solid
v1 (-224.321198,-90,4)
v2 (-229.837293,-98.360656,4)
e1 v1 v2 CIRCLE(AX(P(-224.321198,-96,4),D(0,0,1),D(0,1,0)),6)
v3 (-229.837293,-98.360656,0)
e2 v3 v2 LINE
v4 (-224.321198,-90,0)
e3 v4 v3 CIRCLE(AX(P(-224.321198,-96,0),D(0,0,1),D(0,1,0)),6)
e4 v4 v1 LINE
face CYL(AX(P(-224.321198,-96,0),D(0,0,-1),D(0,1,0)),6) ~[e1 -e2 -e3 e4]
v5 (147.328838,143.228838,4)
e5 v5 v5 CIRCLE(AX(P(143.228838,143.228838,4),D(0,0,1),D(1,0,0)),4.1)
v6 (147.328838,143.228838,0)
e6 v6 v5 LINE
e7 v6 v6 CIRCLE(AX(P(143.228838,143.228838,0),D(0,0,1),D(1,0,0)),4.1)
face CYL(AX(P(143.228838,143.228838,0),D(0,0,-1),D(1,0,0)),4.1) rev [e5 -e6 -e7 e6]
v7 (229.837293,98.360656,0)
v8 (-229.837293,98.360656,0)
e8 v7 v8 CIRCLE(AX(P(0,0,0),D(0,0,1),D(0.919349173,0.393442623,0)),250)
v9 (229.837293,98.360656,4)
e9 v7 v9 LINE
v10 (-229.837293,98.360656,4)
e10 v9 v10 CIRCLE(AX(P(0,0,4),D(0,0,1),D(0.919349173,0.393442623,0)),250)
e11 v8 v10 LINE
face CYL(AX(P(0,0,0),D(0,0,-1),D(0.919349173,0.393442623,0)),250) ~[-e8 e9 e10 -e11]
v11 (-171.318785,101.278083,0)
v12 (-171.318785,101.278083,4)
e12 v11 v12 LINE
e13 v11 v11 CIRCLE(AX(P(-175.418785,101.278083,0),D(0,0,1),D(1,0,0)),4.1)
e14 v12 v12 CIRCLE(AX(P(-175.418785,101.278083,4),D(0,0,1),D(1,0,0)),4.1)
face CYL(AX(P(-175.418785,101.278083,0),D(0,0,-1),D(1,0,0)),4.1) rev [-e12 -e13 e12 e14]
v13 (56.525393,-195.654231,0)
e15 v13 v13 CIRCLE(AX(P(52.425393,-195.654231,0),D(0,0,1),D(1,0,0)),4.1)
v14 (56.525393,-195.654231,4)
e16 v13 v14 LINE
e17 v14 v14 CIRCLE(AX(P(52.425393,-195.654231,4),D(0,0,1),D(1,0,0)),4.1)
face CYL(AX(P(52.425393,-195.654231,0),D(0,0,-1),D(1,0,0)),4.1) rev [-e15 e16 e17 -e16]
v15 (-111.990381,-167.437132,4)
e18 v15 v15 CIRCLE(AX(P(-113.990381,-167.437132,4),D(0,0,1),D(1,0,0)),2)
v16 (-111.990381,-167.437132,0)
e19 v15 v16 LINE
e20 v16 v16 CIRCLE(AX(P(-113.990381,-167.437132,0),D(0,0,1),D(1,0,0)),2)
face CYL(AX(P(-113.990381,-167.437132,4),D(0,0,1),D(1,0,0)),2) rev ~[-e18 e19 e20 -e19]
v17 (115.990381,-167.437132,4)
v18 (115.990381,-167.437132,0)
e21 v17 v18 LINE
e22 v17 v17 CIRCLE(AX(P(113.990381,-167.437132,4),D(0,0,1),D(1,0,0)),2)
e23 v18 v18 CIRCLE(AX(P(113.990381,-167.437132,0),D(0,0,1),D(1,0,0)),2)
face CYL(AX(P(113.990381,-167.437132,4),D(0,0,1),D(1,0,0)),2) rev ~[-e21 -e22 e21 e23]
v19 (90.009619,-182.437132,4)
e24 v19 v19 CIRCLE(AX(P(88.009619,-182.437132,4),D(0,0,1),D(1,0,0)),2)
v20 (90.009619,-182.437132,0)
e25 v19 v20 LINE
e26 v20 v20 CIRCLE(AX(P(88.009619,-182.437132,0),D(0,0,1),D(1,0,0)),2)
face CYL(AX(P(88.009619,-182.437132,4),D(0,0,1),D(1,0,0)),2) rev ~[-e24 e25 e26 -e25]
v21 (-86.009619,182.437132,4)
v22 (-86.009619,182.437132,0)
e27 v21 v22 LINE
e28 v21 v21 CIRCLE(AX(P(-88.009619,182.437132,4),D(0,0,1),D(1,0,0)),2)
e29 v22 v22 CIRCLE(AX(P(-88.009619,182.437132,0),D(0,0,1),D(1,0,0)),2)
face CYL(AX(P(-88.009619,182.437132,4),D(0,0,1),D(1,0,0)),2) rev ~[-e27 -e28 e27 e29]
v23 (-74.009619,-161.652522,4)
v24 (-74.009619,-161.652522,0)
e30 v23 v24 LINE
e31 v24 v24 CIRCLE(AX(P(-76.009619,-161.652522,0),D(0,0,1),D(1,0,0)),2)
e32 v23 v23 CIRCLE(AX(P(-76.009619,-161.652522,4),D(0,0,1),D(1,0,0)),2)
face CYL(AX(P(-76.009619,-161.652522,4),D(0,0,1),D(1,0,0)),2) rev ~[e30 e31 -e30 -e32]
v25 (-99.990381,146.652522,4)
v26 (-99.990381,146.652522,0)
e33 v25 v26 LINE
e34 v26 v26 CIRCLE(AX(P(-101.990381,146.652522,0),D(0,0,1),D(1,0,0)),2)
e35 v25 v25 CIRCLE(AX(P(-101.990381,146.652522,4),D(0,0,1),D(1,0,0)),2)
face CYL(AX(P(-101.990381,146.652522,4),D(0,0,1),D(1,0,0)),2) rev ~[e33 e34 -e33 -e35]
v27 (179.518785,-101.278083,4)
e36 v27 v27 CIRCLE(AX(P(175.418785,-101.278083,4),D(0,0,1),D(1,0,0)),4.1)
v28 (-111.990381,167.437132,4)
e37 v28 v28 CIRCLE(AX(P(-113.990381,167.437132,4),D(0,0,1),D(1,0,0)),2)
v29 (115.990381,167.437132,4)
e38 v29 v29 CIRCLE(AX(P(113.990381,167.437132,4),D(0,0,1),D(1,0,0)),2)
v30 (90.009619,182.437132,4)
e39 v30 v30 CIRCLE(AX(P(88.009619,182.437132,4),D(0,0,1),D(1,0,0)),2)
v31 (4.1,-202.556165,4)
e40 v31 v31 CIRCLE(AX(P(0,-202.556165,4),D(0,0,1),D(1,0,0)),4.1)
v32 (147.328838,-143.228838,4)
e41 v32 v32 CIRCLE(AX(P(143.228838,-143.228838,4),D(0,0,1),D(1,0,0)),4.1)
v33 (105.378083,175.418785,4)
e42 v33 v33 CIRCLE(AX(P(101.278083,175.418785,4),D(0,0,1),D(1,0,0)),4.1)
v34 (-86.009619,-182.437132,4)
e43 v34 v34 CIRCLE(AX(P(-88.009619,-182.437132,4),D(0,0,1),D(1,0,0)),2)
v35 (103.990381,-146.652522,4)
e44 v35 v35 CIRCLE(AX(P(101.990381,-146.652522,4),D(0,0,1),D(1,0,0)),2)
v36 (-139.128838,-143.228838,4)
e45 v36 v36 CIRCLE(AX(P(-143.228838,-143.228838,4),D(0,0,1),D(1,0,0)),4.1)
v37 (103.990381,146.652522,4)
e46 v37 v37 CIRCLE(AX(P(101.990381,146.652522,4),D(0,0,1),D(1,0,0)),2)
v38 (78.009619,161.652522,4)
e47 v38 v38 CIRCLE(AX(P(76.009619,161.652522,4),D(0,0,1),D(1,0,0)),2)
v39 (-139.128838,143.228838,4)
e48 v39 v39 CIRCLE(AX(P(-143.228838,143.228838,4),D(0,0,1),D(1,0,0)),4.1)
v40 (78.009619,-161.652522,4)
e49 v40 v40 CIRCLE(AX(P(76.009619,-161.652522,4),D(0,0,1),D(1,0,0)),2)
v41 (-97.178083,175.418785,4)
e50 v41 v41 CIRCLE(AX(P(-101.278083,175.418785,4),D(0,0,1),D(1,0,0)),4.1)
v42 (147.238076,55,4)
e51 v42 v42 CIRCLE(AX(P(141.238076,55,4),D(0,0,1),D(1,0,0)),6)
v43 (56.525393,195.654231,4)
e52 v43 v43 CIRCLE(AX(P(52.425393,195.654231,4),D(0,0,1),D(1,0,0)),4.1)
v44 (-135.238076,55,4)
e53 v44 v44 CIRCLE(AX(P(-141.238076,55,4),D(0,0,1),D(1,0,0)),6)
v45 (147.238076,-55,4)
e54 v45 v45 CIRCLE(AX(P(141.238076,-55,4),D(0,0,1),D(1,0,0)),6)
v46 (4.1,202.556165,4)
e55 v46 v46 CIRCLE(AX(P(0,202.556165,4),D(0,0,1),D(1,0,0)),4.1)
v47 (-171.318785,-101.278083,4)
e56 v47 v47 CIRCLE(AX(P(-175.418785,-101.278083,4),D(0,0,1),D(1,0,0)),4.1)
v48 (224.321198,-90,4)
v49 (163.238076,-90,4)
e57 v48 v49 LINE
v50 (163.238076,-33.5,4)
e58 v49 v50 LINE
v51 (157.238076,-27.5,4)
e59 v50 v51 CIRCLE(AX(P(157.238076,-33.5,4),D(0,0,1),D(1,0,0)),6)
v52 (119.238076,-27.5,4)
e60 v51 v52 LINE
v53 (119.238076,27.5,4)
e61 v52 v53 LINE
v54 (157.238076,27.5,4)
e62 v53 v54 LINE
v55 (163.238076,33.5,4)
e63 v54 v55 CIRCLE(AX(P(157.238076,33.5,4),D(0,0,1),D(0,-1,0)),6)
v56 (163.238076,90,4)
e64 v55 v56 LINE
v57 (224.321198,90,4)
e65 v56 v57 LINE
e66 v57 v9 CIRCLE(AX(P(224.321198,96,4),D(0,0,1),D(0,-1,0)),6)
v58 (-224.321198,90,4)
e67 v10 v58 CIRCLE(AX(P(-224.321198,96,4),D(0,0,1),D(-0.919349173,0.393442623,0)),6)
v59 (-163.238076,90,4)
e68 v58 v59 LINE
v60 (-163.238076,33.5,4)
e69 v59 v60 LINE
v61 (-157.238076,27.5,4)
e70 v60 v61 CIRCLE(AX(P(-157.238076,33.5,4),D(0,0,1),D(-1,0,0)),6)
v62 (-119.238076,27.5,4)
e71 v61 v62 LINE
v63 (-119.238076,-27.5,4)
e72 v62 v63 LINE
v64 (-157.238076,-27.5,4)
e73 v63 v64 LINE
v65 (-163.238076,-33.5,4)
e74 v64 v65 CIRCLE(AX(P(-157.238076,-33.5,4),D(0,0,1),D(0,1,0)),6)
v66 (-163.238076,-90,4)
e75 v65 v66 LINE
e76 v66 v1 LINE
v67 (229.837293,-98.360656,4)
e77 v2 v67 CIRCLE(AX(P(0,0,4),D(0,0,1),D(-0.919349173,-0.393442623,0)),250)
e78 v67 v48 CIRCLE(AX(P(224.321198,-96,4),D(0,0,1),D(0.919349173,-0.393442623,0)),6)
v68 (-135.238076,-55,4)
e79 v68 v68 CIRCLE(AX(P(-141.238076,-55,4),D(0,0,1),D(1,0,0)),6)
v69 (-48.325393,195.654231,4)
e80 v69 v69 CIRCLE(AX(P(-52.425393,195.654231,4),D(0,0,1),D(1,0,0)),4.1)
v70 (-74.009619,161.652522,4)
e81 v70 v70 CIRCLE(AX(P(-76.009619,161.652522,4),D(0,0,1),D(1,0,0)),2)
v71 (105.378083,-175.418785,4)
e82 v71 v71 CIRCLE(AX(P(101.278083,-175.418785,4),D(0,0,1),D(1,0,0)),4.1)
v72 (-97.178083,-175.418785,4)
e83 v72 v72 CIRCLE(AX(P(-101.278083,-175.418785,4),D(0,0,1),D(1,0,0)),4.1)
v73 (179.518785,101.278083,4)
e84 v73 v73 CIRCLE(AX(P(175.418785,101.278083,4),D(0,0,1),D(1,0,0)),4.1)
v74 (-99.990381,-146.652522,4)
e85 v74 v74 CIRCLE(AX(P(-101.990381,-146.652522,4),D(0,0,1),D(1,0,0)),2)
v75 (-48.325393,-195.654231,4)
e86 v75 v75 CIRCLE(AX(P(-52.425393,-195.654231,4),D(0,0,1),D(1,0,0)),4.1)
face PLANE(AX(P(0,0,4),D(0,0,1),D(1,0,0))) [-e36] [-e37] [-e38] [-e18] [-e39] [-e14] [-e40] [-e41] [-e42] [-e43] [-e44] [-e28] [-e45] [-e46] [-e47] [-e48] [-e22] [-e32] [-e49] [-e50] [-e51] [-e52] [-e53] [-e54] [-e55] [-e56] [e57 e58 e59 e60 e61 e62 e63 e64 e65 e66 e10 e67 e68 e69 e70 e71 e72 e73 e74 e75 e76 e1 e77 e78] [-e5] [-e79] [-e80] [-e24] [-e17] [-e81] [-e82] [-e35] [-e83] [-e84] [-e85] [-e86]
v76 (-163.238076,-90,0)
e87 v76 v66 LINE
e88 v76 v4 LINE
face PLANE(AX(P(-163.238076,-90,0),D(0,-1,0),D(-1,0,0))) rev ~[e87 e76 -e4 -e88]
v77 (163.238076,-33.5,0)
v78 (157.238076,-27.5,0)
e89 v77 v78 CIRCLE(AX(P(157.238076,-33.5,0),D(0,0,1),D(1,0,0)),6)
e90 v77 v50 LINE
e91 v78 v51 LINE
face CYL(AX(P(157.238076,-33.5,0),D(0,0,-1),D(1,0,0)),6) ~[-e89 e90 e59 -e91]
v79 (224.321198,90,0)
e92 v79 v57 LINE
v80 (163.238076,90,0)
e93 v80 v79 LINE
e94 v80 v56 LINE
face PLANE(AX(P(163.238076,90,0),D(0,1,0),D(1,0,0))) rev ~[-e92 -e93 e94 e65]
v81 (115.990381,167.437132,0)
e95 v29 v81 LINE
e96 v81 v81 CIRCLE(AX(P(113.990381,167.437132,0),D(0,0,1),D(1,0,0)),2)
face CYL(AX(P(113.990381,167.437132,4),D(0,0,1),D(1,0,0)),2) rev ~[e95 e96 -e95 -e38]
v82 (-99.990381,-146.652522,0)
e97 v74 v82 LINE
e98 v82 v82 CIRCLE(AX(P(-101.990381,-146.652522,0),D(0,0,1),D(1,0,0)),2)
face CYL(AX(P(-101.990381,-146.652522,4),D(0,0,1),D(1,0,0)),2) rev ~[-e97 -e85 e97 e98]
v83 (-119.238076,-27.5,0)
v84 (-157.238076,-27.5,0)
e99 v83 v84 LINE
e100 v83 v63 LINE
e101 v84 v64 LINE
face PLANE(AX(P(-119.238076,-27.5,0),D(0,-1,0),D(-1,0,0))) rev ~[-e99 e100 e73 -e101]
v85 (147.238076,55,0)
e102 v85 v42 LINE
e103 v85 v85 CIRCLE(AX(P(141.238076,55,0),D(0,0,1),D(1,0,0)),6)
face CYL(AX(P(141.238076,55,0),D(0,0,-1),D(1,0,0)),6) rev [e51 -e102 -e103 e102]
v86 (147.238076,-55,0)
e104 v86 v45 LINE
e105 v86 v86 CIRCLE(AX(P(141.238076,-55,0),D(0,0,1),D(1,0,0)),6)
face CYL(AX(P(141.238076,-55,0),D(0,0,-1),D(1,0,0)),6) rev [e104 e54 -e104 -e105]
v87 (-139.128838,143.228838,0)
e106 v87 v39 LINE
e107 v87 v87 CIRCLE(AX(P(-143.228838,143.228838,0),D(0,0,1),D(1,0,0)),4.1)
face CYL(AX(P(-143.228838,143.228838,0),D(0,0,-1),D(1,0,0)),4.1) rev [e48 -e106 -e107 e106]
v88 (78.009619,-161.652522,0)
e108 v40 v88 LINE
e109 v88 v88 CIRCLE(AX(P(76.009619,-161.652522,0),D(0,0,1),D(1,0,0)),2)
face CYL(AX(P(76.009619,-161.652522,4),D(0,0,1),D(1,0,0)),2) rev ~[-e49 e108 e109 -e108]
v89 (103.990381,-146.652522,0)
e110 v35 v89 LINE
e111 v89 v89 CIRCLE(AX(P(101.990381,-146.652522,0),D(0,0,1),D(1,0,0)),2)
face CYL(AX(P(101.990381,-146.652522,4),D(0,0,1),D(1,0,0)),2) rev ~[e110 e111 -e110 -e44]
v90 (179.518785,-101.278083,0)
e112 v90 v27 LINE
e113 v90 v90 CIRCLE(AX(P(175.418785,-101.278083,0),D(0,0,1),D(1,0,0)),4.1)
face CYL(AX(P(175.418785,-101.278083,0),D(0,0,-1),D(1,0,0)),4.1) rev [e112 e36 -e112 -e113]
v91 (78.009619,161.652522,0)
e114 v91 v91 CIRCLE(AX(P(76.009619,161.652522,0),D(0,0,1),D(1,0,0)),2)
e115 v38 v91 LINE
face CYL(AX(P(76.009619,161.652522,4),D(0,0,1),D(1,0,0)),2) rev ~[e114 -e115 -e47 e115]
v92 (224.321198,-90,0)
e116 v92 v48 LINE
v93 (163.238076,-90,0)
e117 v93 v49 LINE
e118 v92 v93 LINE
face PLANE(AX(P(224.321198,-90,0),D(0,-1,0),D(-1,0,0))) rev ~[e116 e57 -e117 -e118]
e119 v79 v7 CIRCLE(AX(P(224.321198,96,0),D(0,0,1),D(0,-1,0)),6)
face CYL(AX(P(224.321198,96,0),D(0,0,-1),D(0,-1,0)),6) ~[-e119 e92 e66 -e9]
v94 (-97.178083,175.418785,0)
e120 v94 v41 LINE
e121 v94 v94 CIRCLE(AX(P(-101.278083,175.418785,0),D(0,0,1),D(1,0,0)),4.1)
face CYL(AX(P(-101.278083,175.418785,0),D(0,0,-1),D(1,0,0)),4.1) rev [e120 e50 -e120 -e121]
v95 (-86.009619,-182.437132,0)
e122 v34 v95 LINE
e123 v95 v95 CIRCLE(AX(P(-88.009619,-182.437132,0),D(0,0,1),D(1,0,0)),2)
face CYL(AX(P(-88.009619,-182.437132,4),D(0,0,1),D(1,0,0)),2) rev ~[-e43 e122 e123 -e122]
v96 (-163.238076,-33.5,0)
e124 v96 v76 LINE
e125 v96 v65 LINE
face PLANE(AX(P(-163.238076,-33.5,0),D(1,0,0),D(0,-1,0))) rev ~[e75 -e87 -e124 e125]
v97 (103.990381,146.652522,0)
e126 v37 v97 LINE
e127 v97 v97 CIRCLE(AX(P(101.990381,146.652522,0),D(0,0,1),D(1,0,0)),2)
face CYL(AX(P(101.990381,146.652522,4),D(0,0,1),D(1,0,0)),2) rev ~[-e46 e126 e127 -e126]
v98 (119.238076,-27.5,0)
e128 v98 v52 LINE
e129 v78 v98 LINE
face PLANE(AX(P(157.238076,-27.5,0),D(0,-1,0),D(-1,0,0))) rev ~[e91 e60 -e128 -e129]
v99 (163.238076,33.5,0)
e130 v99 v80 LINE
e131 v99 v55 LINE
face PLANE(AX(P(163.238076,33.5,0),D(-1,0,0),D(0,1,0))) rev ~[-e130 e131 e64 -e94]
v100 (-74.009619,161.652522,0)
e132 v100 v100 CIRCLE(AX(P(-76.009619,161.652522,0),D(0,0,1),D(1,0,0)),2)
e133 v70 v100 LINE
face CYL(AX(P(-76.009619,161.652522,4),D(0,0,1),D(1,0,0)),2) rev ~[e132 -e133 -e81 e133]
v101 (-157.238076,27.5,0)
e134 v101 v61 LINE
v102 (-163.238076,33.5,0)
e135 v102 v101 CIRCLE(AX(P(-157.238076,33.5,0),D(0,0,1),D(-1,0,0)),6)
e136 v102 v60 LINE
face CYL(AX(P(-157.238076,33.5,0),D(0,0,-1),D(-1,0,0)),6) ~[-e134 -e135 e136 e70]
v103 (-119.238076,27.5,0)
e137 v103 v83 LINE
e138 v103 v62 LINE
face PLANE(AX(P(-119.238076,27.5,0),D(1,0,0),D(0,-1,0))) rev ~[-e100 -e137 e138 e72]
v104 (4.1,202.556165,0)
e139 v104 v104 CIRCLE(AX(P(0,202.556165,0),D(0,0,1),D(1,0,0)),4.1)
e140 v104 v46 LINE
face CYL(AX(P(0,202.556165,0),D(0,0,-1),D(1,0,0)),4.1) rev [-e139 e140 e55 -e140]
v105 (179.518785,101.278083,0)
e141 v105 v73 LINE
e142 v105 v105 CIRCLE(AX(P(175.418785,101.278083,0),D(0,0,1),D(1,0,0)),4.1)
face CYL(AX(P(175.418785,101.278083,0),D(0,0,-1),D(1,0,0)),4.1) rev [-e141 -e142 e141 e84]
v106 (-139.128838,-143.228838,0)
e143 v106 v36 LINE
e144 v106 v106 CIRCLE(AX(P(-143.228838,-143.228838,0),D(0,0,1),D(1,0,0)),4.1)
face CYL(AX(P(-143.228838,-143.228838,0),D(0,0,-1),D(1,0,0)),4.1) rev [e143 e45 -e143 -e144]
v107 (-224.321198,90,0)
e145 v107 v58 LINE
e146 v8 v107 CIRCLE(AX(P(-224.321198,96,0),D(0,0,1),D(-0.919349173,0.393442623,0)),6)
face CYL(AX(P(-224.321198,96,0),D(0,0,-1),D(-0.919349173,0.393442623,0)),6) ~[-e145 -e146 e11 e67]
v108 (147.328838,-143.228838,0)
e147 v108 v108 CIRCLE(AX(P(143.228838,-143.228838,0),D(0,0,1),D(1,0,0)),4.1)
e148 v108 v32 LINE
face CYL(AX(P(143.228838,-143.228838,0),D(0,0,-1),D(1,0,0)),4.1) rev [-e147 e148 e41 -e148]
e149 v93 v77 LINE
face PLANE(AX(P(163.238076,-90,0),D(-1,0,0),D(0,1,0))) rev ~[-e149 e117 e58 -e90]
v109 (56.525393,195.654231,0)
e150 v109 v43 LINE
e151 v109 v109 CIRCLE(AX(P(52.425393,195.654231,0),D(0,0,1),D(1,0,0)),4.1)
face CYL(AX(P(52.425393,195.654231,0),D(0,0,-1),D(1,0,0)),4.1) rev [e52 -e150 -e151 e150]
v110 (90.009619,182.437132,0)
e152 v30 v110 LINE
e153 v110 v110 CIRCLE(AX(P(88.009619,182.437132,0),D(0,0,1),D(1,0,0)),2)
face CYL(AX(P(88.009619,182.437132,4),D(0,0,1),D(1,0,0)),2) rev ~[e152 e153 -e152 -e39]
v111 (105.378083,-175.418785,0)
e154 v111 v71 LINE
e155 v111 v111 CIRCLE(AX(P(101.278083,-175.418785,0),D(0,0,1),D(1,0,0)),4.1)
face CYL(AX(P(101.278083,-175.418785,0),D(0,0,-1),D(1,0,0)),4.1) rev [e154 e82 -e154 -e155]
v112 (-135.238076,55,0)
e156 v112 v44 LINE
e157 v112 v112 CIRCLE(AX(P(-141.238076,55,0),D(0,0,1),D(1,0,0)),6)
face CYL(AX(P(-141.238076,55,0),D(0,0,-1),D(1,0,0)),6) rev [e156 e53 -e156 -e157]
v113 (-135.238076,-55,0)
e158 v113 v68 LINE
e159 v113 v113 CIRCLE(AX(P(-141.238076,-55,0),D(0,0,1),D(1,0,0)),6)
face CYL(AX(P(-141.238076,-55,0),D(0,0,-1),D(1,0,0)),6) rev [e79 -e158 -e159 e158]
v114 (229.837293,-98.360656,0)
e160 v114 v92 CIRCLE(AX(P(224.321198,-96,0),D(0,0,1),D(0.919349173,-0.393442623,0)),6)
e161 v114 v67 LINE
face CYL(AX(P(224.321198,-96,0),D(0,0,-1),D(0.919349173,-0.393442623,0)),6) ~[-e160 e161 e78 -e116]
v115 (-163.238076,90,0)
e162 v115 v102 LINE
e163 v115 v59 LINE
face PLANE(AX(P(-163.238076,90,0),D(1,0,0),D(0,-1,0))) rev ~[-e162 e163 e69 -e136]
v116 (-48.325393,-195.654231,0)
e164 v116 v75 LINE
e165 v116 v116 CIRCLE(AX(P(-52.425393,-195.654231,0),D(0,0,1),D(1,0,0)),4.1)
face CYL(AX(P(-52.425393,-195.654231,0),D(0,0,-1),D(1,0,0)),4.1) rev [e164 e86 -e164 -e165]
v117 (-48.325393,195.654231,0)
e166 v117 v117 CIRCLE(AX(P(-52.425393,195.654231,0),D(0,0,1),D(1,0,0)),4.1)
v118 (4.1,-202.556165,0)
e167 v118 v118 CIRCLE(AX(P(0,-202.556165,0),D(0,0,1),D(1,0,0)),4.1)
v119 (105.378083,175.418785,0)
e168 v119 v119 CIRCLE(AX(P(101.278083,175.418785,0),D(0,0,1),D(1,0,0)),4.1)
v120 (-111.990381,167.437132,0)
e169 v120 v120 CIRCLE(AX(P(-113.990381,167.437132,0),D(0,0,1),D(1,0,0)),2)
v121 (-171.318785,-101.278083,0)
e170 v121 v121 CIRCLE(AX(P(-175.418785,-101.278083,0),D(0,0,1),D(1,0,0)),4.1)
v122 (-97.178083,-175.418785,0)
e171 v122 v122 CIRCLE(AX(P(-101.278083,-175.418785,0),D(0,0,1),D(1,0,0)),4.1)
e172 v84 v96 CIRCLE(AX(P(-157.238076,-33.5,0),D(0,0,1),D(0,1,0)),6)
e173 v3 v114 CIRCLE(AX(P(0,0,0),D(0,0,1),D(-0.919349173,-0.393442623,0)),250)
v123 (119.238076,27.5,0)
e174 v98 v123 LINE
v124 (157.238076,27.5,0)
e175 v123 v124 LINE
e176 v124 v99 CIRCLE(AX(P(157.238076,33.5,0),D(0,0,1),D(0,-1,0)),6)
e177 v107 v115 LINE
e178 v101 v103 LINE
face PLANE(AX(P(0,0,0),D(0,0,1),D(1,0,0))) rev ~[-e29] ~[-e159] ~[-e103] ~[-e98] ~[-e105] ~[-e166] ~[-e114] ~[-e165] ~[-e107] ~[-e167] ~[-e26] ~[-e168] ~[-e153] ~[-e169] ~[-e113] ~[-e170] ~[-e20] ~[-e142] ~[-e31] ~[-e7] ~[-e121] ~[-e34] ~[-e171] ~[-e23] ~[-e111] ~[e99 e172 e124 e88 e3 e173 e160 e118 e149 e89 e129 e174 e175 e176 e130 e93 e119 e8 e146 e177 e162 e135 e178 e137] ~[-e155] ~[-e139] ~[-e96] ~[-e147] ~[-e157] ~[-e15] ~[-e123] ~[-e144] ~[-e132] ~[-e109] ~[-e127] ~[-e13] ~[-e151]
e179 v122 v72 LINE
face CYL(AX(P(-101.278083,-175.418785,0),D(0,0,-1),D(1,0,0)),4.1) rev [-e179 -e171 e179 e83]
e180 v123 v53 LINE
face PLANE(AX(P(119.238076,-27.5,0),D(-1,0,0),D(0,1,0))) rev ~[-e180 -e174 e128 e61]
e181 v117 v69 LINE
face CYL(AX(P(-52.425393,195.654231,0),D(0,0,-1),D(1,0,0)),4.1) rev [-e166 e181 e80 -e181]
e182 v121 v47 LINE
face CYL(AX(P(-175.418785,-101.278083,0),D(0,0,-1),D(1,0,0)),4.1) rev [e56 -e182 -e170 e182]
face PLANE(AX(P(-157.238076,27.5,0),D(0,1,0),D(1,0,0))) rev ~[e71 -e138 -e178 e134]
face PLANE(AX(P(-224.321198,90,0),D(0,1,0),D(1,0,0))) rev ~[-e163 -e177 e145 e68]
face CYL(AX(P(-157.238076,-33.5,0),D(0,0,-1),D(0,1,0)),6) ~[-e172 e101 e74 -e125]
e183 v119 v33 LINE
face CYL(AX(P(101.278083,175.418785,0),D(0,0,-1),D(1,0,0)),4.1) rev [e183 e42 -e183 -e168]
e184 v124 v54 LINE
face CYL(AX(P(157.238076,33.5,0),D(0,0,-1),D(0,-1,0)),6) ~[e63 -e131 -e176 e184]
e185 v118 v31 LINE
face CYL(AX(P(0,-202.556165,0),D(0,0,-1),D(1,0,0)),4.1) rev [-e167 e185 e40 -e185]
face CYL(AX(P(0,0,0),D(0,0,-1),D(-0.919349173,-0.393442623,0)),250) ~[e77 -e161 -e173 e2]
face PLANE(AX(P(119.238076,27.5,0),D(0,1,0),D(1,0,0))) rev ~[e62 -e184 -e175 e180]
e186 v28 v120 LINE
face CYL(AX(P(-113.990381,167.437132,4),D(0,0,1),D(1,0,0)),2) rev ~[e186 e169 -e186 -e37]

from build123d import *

# Parameters (mm, degrees)
SKETCH1_R           = 6
SKETCH1_R_2         = 4.1
BOSS_EXTRUDE1_DEPTH = 4
SKETCH5_R           = 2
CUT_EXTRUDE3_DEPTH  = 10


with BuildPart() as part:
    # Sketch1 → Boss-Extrude1 (new body)
    with BuildSketch(Plane.XY):
        with BuildLine():
            Line((-163.238075794, -33.5), (-163.238075794, -90))
            Line((-163.238075794, -90), (-224.321198285, -90))
            ThreePointArc((-224.321198285, -90), (-229.329388299, -92.695755338), (-229.837293325, -98.360655738))
            ThreePointArc((-229.837293325, -98.360655738), (0, -250), (229.837293325, -98.360655738))
            ThreePointArc((229.837293325, -98.360655738), (229.329388299, -92.695755338), (224.321198285, -90))
            Line((224.321198285, -90), (163.238075794, -90))
            Line((163.238075794, -90), (163.238075794, -33.5))
            ThreePointArc((163.238075794, -33.5), (161.480716481, -29.257359313), (157.238075794, -27.5))
            Line((157.238075794, -27.5), (119.238075794, -27.5))
            Line((119.238075794, -27.5), (119.238075794, 27.5))
            Line((119.238075794, 27.5), (157.238075794, 27.5))
            ThreePointArc((157.238075794, 27.5), (161.480716481, 29.257359313), (163.238075794, 33.5))
            Line((163.238075794, 33.5), (163.238075794, 90))
            Line((163.238075794, 90), (224.321198285, 90))
            ThreePointArc((224.321198285, 90), (229.329388299, 92.695755338), (229.837293325, 98.360655738))
            ThreePointArc((229.837293325, 98.360655738), (0, 250), (-229.837293325, 98.360655738))
            ThreePointArc((-229.837293325, 98.360655738), (-229.329388299, 92.695755338), (-224.321198285, 90))
            Line((-224.321198285, 90), (-163.238075794, 90))
            Line((-163.238075794, 90), (-163.238075794, 33.5))
            ThreePointArc((-163.238075794, 33.5), (-161.480716481, 29.257359313), (-157.238075794, 27.5))
            Line((-157.238075794, 27.5), (-119.238075794, 27.5))
            Line((-119.238075794, 27.5), (-119.238075794, -27.5))
            Line((-119.238075794, -27.5), (-157.238075794, -27.5))
            ThreePointArc((-157.238075794, -27.5), (-161.480716481, -29.257359313), (-163.238075794, -33.5))
        make_face()
        with Locations((-141.238075794, 55)):
            Circle(SKETCH1_R, mode=Mode.SUBTRACT)
        with Locations((-141.238075794, -55)):
            Circle(SKETCH1_R, mode=Mode.SUBTRACT)
        with Locations((141.238075794, -55)):
            Circle(SKETCH1_R, mode=Mode.SUBTRACT)
        with Locations((141.238075794, 55)):
            Circle(SKETCH1_R, mode=Mode.SUBTRACT)
        with Locations((0, -202.556165051)):
            Circle(SKETCH1_R_2, mode=Mode.SUBTRACT)
        with Locations((-52.425393218, -195.654231096)):
            Circle(SKETCH1_R_2, mode=Mode.SUBTRACT)
        with Locations((-101.278082525, -175.418784627)):
            Circle(SKETCH1_R_2, mode=Mode.SUBTRACT)
        with Locations((-143.228837878, -143.228837878)):
            Circle(SKETCH1_R_2, mode=Mode.SUBTRACT)
        with Locations((-175.418784627, -101.278082525)):
            Circle(SKETCH1_R_2, mode=Mode.SUBTRACT)
        with Locations((-175.418784627, 101.278082525)):
            Circle(SKETCH1_R_2, mode=Mode.SUBTRACT)
        with Locations((-143.228837878, 143.228837878)):
            Circle(SKETCH1_R_2, mode=Mode.SUBTRACT)
        with Locations((-101.278082525, 175.418784627)):
            Circle(SKETCH1_R_2, mode=Mode.SUBTRACT)
        with Locations((-52.425393218, 195.654231096)):
            Circle(SKETCH1_R_2, mode=Mode.SUBTRACT)
        with Locations((0, 202.556165051)):
            Circle(SKETCH1_R_2, mode=Mode.SUBTRACT)
        with Locations((52.425393218, 195.654231096)):
            Circle(SKETCH1_R_2, mode=Mode.SUBTRACT)
        with Locations((101.278082525, 175.418784627)):
            Circle(SKETCH1_R_2, mode=Mode.SUBTRACT)
        with Locations((143.228837878, 143.228837878)):
            Circle(SKETCH1_R_2, mode=Mode.SUBTRACT)
        with Locations((175.418784627, 101.278082525)):
            Circle(SKETCH1_R_2, mode=Mode.SUBTRACT)
        with Locations((175.418784627, -101.278082525)):
            Circle(SKETCH1_R_2, mode=Mode.SUBTRACT)
        with Locations((143.228837878, -143.228837878)):
            Circle(SKETCH1_R_2, mode=Mode.SUBTRACT)
        with Locations((101.278082525, -175.418784627)):
            Circle(SKETCH1_R_2, mode=Mode.SUBTRACT)
        with Locations((52.425393218, -195.654231096)):
            Circle(SKETCH1_R_2, mode=Mode.SUBTRACT)
    extrude(amount=BOSS_EXTRUDE1_DEPTH)

    # Sketch5 → Cut-Extrude3 (cut)
    with BuildSketch(Plane.XY.offset(4)):
        with Locations((-101.990381057, 146.652521874)):
            Circle(SKETCH5_R)
        with Locations((-76.009618943, 161.652521874)):
            Circle(SKETCH5_R)
        with Locations((-113.990381057, 167.437131564)):
            Circle(SKETCH5_R)
        with Locations((-88.009618943, 182.437131564)):
            Circle(SKETCH5_R)
        with Locations((76.009618943, 161.652521874)):
            Circle(SKETCH5_R)
        with Locations((101.990381057, 146.652521874)):
            Circle(SKETCH5_R)
        with Locations((88.009618943, 182.437131564)):
            Circle(SKETCH5_R)
        with Locations((113.990381057, 167.437131564)):
            Circle(SKETCH5_R)
        with Locations((101.990381057, -146.652521874)):
            Circle(SKETCH5_R)
        with Locations((76.009618943, -161.652521874)):
            Circle(SKETCH5_R)
        with Locations((113.990381057, -167.437131564)):
            Circle(SKETCH5_R)
        with Locations((88.009618943, -182.437131564)):
            Circle(SKETCH5_R)
        with Locations((-76.009618943, -161.652521874)):
            Circle(SKETCH5_R)
        with Locations((-101.990381057, -146.652521874)):
            Circle(SKETCH5_R)
        with Locations((-88.009618943, -182.437131564)):
            Circle(SKETCH5_R)
        with Locations((-113.990381057, -167.437131564)):
            Circle(SKETCH5_R)
    extrude(amount=-CUT_EXTRUDE3_DEPTH, mode=Mode.SUBTRACT)


solid = part.part
